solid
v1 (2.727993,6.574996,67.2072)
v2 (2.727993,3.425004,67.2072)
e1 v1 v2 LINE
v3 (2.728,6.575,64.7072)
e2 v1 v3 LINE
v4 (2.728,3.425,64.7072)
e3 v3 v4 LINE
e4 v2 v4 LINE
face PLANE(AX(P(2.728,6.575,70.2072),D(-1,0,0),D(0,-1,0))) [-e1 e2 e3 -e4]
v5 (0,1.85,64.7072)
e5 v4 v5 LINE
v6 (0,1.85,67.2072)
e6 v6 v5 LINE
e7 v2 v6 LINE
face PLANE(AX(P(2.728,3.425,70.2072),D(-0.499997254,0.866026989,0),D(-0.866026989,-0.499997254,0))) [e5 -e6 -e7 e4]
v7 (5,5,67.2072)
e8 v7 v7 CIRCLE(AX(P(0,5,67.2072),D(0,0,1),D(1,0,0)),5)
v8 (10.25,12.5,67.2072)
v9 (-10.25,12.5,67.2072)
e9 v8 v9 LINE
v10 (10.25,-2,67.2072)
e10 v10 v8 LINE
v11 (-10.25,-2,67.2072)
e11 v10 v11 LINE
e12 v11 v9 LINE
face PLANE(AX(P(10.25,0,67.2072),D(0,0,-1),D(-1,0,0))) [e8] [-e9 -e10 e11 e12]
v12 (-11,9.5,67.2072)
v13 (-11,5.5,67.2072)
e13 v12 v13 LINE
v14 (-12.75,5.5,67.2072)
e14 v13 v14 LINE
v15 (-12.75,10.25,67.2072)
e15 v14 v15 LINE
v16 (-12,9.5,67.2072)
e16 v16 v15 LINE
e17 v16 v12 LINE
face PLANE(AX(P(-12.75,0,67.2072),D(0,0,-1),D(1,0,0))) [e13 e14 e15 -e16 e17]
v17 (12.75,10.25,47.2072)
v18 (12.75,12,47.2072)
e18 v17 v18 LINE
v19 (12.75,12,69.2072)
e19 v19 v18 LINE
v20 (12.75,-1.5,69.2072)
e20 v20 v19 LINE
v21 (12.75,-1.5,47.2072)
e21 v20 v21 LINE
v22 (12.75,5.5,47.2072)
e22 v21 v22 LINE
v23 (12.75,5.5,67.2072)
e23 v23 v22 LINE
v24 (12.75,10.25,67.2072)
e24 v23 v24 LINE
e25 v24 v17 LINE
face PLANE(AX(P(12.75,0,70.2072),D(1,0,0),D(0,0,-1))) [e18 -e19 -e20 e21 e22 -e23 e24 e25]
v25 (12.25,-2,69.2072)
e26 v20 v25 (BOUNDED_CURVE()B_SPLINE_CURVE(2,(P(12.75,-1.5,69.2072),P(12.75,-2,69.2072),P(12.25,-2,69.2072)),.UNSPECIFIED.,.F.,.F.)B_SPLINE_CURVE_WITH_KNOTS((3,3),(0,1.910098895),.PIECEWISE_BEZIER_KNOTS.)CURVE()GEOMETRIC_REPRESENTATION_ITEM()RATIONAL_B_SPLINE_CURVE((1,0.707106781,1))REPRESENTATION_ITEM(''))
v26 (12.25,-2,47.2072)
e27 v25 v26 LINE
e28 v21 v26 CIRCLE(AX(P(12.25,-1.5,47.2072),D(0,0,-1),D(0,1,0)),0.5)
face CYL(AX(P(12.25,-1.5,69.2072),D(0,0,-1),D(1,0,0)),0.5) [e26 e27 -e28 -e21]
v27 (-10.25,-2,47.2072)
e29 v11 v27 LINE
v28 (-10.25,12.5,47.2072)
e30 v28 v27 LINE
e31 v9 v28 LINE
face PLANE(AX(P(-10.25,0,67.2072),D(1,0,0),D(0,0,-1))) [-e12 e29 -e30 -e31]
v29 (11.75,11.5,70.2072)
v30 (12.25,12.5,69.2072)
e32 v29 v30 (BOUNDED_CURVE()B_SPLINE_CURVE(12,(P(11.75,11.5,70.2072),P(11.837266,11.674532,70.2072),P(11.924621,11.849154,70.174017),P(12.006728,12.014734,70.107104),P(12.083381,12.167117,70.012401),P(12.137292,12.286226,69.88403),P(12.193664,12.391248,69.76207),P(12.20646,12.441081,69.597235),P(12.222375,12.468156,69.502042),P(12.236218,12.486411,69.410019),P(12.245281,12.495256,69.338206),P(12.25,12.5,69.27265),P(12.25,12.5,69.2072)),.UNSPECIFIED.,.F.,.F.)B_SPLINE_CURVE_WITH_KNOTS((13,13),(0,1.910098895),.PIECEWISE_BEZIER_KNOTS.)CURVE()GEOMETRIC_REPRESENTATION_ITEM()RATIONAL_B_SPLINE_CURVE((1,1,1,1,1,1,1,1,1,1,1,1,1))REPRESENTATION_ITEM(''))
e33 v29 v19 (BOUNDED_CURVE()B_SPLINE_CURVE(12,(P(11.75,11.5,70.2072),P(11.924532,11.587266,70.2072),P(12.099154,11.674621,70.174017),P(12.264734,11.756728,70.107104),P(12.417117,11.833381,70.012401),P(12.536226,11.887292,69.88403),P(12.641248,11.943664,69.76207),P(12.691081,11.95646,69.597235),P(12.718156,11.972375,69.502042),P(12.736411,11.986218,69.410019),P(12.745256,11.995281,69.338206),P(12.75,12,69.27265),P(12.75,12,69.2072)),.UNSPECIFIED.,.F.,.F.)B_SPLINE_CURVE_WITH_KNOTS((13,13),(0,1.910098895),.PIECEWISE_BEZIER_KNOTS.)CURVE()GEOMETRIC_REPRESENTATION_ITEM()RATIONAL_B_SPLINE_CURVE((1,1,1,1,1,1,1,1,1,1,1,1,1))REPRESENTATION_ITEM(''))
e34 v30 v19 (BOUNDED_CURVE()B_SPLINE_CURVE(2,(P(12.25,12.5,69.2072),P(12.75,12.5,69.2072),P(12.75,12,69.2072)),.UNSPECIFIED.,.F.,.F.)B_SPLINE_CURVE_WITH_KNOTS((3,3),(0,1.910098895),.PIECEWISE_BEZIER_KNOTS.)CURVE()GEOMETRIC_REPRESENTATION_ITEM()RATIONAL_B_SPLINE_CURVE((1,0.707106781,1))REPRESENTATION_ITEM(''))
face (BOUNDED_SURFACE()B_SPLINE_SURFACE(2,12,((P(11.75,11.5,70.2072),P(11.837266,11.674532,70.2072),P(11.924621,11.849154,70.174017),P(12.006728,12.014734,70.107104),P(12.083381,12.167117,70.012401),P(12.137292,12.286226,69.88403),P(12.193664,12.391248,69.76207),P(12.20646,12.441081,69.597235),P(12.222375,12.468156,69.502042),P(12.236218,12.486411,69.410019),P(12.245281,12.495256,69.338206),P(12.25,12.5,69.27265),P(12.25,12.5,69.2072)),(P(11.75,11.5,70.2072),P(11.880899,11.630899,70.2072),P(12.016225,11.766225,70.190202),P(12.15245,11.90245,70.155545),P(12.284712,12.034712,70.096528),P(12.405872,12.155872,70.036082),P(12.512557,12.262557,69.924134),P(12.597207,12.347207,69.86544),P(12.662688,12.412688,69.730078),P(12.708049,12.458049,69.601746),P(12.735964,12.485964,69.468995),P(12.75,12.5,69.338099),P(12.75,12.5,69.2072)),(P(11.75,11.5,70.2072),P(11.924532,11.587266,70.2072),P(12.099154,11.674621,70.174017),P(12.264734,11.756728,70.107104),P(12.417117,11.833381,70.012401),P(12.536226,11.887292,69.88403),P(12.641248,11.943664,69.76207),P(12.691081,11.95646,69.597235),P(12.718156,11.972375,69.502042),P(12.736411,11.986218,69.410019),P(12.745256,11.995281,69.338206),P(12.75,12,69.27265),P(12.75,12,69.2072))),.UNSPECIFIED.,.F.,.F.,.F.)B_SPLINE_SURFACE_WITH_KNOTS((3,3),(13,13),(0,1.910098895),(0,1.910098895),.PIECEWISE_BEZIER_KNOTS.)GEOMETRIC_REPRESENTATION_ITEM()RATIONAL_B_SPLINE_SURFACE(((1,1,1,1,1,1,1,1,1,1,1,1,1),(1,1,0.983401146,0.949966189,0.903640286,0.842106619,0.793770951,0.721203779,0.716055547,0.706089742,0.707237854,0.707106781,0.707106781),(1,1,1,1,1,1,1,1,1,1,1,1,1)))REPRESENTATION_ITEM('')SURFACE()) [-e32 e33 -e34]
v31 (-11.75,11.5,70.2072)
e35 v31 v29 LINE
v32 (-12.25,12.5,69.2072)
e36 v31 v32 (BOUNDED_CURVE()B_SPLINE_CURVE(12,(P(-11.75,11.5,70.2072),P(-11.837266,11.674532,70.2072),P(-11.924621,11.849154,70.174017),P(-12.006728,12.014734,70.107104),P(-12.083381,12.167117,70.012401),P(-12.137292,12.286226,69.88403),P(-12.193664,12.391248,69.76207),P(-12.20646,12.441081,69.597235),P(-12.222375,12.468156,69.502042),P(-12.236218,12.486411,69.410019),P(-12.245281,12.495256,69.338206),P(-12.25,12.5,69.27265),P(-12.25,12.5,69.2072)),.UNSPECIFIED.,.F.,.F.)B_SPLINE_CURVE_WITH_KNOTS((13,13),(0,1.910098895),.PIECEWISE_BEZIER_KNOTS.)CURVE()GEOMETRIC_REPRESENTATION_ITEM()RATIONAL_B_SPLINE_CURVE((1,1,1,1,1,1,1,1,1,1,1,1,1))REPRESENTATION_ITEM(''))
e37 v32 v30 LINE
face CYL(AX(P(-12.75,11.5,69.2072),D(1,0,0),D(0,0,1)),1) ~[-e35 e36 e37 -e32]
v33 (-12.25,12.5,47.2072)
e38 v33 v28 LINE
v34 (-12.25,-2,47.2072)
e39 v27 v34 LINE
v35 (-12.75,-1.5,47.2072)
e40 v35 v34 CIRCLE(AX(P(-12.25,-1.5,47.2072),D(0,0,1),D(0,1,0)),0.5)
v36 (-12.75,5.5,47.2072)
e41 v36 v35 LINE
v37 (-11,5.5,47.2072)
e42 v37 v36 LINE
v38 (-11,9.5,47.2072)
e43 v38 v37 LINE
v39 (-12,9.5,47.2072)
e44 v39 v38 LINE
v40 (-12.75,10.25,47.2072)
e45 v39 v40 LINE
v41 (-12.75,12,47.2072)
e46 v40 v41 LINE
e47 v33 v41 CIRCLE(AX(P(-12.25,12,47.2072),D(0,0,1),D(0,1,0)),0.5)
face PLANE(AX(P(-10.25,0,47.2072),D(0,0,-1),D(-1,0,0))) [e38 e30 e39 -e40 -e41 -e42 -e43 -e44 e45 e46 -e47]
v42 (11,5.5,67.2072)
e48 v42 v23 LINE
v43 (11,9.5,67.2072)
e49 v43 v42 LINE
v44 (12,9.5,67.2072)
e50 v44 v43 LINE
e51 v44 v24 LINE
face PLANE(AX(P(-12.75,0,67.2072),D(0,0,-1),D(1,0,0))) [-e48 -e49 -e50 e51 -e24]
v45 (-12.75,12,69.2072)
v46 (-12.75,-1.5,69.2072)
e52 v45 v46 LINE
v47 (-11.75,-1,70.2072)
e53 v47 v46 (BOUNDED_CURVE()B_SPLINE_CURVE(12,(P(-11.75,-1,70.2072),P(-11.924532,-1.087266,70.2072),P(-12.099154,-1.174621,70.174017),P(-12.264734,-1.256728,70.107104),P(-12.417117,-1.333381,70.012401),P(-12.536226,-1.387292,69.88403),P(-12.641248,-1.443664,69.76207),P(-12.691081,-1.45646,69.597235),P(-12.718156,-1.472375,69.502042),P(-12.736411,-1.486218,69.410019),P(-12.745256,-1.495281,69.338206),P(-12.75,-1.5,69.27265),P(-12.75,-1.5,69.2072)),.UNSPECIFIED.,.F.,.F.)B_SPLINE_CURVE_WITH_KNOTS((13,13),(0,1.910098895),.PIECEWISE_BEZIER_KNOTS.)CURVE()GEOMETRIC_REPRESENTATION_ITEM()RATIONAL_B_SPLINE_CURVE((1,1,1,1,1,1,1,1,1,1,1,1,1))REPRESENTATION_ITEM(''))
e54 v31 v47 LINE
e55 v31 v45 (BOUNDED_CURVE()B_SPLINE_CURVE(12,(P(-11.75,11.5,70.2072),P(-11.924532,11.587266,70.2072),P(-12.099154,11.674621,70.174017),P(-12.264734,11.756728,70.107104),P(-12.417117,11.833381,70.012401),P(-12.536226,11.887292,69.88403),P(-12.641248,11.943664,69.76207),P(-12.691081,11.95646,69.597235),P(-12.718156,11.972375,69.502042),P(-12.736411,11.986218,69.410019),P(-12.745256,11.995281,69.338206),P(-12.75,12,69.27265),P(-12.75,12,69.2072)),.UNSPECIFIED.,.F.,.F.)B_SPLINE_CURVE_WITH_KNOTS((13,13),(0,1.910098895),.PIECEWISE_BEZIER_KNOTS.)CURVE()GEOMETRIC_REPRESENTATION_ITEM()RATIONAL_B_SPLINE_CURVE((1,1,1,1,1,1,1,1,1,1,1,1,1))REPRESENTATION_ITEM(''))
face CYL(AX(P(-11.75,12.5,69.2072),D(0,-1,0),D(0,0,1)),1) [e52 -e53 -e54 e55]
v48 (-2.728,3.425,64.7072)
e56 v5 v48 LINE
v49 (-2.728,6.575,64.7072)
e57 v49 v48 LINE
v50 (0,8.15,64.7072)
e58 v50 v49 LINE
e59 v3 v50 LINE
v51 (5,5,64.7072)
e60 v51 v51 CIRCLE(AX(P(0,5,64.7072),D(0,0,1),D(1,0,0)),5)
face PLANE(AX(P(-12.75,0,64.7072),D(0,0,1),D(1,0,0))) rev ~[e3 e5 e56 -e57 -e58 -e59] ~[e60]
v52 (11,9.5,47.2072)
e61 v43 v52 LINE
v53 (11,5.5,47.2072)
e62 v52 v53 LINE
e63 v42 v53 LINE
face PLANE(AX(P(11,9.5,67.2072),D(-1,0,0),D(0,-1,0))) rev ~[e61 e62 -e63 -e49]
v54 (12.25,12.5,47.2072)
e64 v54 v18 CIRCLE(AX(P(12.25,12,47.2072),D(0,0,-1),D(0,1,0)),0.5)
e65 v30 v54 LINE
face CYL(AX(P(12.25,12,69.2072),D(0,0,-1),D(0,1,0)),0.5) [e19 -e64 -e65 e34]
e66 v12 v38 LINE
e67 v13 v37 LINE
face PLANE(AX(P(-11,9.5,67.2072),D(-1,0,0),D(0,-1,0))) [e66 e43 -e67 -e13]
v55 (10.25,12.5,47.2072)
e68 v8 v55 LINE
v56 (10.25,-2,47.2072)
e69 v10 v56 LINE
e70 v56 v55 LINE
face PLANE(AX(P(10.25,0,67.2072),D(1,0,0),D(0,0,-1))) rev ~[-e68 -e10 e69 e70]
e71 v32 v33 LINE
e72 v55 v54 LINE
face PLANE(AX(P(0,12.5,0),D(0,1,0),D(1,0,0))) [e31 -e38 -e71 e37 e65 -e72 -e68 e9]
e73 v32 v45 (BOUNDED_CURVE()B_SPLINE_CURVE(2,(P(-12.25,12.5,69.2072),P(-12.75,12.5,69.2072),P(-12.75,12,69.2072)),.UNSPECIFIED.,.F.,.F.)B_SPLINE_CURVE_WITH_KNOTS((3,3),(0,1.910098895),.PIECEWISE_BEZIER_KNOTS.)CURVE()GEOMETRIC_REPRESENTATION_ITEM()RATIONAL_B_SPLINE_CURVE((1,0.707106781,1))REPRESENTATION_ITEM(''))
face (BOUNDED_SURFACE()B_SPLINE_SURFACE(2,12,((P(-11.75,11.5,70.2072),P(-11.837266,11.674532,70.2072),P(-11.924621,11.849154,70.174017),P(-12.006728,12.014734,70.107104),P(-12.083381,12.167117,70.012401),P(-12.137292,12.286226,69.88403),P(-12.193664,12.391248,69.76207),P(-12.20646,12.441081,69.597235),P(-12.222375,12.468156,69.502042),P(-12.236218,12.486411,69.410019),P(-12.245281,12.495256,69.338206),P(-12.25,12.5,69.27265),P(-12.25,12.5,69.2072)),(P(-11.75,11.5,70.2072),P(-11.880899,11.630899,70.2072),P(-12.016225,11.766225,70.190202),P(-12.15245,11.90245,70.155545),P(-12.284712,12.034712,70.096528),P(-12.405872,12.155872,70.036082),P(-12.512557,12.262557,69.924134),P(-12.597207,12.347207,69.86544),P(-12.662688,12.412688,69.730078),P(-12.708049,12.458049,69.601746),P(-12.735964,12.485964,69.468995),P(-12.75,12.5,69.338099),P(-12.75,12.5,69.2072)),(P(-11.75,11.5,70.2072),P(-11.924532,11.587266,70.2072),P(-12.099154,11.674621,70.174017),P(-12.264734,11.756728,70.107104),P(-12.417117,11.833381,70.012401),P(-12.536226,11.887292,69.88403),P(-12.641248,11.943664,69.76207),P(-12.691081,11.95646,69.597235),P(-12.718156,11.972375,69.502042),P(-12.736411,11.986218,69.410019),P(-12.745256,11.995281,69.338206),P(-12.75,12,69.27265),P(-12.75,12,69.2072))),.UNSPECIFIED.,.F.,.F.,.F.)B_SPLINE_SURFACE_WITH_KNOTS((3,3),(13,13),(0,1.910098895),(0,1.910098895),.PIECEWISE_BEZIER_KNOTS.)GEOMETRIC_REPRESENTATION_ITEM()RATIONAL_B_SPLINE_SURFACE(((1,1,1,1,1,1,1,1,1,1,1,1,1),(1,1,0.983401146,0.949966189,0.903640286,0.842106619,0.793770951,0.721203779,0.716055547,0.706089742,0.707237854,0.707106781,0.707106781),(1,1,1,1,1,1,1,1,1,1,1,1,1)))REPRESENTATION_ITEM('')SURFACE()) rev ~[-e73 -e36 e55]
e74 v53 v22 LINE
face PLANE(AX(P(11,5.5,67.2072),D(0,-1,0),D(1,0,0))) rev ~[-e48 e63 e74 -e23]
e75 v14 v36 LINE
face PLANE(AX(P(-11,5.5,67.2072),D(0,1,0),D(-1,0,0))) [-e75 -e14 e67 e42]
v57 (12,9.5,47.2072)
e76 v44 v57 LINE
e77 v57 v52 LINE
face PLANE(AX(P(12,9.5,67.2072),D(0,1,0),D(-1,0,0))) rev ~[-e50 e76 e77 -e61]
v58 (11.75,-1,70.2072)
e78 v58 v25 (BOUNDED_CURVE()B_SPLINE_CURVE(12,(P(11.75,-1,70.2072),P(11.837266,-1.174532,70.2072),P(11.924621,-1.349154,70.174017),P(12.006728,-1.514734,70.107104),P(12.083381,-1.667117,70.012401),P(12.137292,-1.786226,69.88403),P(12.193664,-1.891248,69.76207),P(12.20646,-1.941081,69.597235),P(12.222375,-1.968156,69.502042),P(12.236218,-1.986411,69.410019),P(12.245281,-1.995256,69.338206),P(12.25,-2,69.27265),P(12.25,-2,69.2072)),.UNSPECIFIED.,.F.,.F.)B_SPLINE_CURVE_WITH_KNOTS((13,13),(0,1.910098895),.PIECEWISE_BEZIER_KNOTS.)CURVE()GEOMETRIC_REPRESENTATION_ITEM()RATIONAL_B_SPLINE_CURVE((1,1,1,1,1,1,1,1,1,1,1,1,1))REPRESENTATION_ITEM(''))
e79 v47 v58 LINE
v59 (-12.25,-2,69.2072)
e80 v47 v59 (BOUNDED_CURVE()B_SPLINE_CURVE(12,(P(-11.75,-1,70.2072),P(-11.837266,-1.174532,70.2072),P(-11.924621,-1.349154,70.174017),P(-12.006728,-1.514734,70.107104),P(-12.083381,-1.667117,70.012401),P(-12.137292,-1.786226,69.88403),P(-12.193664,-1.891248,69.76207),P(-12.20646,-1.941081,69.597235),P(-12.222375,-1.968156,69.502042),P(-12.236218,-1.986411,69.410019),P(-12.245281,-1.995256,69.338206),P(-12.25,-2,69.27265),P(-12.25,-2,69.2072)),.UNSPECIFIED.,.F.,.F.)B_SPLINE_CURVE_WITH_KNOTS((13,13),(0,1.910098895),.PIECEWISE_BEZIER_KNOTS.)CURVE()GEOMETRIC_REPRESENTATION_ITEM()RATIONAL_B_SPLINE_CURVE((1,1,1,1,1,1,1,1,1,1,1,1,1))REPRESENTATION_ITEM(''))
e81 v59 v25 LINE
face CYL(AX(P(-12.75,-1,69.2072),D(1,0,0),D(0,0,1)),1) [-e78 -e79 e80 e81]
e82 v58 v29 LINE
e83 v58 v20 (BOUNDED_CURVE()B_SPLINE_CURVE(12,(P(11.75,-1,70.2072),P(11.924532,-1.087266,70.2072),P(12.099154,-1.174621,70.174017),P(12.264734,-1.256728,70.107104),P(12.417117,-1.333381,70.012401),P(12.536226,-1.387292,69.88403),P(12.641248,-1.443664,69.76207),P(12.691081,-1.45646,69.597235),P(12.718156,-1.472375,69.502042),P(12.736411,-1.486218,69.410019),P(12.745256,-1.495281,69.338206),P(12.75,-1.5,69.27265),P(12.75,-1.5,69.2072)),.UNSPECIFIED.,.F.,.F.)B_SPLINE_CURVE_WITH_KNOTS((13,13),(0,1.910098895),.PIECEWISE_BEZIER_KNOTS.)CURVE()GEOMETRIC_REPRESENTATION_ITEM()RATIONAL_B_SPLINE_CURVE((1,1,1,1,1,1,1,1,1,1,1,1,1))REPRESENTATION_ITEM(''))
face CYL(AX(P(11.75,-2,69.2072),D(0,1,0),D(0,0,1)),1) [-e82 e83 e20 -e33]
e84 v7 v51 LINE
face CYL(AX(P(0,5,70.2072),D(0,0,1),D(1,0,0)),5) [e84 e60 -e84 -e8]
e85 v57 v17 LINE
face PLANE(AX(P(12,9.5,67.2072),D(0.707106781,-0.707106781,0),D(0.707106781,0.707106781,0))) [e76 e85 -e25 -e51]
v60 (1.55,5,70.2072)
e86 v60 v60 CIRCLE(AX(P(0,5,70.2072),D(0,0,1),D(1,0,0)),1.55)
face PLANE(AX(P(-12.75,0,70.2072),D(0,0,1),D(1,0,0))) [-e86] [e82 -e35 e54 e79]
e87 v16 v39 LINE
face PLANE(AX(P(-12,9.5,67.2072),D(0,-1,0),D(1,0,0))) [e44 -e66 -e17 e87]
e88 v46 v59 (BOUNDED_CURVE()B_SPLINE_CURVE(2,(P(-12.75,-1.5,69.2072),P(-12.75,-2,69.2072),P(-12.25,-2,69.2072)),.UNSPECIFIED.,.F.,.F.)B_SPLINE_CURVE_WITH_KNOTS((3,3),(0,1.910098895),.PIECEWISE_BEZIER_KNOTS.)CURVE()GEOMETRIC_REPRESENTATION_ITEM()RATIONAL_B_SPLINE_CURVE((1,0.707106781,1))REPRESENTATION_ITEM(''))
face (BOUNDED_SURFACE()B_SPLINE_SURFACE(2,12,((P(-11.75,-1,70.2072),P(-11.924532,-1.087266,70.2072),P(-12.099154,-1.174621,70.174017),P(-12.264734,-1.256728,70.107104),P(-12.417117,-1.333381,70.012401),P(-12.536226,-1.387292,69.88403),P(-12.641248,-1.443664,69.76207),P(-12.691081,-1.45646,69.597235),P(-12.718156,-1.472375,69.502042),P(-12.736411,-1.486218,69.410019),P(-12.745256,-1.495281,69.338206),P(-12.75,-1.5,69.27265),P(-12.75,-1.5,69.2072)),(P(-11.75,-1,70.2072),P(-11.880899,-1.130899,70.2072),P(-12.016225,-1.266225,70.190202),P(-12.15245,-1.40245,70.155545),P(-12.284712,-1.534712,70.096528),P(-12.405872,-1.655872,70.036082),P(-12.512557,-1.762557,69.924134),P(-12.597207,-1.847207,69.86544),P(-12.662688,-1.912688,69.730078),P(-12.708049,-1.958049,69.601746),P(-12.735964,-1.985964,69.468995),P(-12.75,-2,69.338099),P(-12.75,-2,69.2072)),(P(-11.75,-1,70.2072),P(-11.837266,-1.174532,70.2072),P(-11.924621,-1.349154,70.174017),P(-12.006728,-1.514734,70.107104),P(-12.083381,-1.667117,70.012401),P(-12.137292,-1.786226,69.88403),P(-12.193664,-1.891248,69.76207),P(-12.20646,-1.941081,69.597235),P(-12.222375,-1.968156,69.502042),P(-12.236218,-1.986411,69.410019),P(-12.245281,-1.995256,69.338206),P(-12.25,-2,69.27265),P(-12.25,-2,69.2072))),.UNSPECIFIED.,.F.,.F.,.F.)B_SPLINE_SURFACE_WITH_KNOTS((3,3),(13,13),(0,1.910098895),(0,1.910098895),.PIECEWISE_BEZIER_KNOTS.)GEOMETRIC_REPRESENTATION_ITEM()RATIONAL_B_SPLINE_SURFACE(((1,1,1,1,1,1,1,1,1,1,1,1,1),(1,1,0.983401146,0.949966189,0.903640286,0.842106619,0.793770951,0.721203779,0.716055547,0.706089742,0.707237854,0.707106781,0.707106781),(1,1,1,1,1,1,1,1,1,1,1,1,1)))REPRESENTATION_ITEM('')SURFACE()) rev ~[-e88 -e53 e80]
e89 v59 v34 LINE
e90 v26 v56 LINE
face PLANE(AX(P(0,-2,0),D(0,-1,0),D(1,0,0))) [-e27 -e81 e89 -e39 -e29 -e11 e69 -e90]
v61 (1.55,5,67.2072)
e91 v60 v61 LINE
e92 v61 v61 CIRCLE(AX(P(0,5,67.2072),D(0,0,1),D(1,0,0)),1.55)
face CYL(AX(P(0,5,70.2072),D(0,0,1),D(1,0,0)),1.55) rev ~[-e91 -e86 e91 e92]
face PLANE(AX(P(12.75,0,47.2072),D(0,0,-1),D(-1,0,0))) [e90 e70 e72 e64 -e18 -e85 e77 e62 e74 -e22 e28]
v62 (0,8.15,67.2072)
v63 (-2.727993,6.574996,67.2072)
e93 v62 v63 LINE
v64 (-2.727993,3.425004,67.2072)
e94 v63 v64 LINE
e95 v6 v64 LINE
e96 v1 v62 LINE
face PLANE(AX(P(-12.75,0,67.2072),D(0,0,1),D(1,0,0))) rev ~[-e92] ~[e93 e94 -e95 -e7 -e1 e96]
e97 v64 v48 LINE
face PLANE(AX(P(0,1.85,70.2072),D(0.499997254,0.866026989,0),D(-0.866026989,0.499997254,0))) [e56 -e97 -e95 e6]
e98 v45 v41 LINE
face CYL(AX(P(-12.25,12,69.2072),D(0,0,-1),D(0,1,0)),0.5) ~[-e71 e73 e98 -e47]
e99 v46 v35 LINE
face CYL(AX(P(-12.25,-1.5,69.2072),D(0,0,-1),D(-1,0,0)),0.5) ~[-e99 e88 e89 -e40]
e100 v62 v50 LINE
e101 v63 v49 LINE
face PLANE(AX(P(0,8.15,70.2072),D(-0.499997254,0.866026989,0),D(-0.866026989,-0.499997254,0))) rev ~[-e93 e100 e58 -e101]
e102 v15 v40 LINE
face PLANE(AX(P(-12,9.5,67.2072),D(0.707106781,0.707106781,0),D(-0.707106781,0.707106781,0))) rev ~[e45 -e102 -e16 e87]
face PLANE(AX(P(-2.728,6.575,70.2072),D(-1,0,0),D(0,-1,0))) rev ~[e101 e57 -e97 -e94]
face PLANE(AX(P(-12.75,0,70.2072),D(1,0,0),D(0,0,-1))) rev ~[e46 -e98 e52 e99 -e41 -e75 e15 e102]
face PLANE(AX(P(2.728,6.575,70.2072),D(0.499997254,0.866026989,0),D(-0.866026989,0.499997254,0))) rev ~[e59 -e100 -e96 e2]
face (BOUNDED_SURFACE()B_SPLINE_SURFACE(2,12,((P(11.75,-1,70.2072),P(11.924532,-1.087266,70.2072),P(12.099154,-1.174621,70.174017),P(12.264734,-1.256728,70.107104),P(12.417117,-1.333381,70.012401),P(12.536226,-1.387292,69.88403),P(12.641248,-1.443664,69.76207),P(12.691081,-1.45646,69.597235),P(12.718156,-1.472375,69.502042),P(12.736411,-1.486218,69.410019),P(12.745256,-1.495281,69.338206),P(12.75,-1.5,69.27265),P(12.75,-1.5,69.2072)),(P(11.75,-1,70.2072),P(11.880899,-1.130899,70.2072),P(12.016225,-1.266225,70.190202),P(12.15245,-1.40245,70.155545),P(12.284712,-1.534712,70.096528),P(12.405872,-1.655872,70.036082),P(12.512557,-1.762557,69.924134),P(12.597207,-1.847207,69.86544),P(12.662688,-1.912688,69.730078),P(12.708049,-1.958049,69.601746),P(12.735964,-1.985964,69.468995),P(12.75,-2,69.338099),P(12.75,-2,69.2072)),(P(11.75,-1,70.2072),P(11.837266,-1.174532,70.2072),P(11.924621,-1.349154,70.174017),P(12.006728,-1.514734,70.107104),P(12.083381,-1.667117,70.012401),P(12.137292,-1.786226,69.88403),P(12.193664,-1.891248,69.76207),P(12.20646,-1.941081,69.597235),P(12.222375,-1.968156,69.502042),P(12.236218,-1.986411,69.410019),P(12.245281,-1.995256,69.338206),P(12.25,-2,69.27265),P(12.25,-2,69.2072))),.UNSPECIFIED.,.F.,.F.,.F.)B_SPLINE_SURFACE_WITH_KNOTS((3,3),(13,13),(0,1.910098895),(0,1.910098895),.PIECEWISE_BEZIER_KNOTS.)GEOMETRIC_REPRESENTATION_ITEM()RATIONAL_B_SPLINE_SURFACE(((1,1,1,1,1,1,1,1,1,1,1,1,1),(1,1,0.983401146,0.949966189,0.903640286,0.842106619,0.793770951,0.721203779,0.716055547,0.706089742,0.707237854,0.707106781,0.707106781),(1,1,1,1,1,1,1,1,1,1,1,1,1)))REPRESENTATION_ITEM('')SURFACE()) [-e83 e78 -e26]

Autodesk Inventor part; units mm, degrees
ref_plane "YZ Plane" through (0, 0, 0) normal (1, 0, 0) x (0, 1, 0)
ref_plane "XZ Plane" through (0, 0, 0) normal (0, 1, 0) x (-1, 0, 0)
ref_plane "XY Plane" through (0, 0, 0) normal (0, 0, 1) x (1, 0, 0)
sketch "Эскиз1" plane through (0, 0, 0) normal (0, 1, 0) x (-1, 0, 0)
  line L0 (0, 56.6418) -> (23.7825, 76.5969) construction
  line L1 (44.1942, 76.014) -> (76.014, 44.1942) construction
  line L2 (91.1, 52.2091) -> (52.2091, 91.1) construction
  line L3 (0, 0) -> (74.2462, 74.2462) construction
  arc A0 (92.5543, 49.5852) -> (48.7014, 93.0224) centre (0, 0) ccw construction
  line L4 (52.2091, 91.1) -> (48.6736, 87.5645) construction
  arc A1 (44.1942, 83.085) -> (44.1942, 76.014) centre (47.7297, 79.5495) ccw construction
  line L5 (52.2091, 91.1) -> (48.6736, 87.5645) construction
  line L6 (48.6736, 87.5645) -> (52.2091, 91.1) construction
  spline S0 degree 2 poles (48.6736, 87.5645) (52.2091, 91.1) (48.7014, 93.0224) knots 1 1 1 2 2 2 construction
  line L7 (52.2091, 91.1) -> (48.7014, 93.0224) construction
  line L8 (52.2091, 91.1) -> (48.7014, 93.0224) construction
  arc A2 (48.7014, 93.0224) -> (44.0271, 95.3237) centre (0, 0) ccw construction
  arc A3 (44.0271, 95.3237) -> (43.577, 95.5303) centre (0, 0) ccw construction
  line L9 (42.6652, 95.941) -> (43.577, 95.5303) construction
  line L10 (42.6652, 95.941) -> (43.577, 95.5303) construction
  spline S1 degree 2 poles (42.0492, 94.5734) (42.6652, 95.941) (43.577, 95.5303) knots 1 1 1 2 2 2 construction
  line L11 (42.0492, 94.5734) -> (42.6652, 95.941) construction
  line L12 (42.6652, 95.941) -> (42.0492, 94.5734) construction
  line L13 (0, 0) -> (0, 209.8821) construction
  spline S2 degree 2 poles (-48.6736, 87.5645) (-52.2091, 91.1) (-48.7014, 93.0224) knots 1 1 1 2 2 2 construction
  line L14 (-48.6736, 87.5645) -> (-52.2091, 91.1) construction
  line L15 (-52.2091, 91.1) -> (-48.7014, 93.0224) construction
  arc A4 (-44.1942, 76.014) -> (-44.1942, 83.085) centre (-47.7297, 79.5495) ccw construction
  line L16 (-44.1942, 76.014) -> (-76.014, 44.1942) construction
  arc A5 (-48.7014, 93.0224) -> (-92.5543, 49.5852) centre (0, 0) ccw construction
  arc A6 (-83.085, 44.1942) -> (-76.014, 44.1942) centre (-79.5495, 47.7297) ccw construction
  line L17 (-83.085, 44.1942) -> (-87.3563, 48.4654) construction
  spline S3 degree 2 poles (-48.6736, -87.5645) (-52.2091, -91.1) (-48.7014, -93.0224) knots 1 1 1 2 2 2 construction
  line L18 (-48.6736, -87.5645) -> (-52.2091, -91.1) construction
  line L19 (-52.2091, -91.1) -> (-48.7014, -93.0224) construction
  circle A7 centre (0, 0) radius 35 construction
  line L20 (-46.3155, -73.8927) -> (-73.8927, -46.3155) construction
  arc A8 (-73.8927, -46.3155) -> (-85.2064, -46.3155) centre (-79.5495, -51.9723) ccw construction
  line L21 (-85.2064, -46.3155) -> (-87.5645, -48.6736) construction
  line L22 (-87.5645, -48.6736) -> (-91.1, -52.2091) construction
  spline S4 degree 2 poles (-87.5645, -48.6736) (-91.1, -52.2091) (-92.5543, -49.5852) knots 1 1 1 2 2 2 construction
  line L23 (-91.1, -52.2091) -> (-92.5543, -49.5852) construction
  arc A9 (-92.5543, -49.5852) -> (-48.7014, -93.0224) centre (0, 0) ccw construction
  arc A10 (-92.5543, 49.5852) -> (-92.5543, -49.5852) centre (0, 0) ccw construction
  line L24 (48.6736, -87.5645) -> (46.3155, -85.2064) construction
  arc A11 (-46.3155, -85.2064) -> (-46.3155, -73.8927) centre (-51.9723, -79.5495) ccw construction
  line L25 (-48.6736, -87.5645) -> (-46.3155, -85.2064) construction
  arc A12 (-48.7014, -93.0224) -> (48.7014, -93.0224) centre (0, 0) ccw construction
  arc A13 (46.3155, -73.8927) -> (46.3155, -85.2064) centre (51.9723, -79.5495) ccw construction
  arc A14 (43.577, 95.5303) -> (-43.577, 95.5303) centre (0, 0) ccw construction
  arc A15 (23.7825, 76.5969) -> (0, 67.941) centre (0, 104.941) ccw construction
  line L26 (0, 56.6418) -> (-35.5516, 86.4744) construction
  line L27 (44.0271, 95.3237) -> (44.0271, 127.8162) construction
  ellipse E0 centre (0, 102.7511) end of major axis (44.0271, 102.7511) minor radius 27.5932 (42.0492, 94.5734) -> (35.2734, 86.2384) ccw construction
  line L28 (42.6652, 95.941) -> (-42.6652, 95.941) construction
  ellipse E1 centre (0, 102.7511) end of major axis (44.5159, 105.2445) minor radius 28.887 (35.2734, 86.2384) -> (42.0492, 94.5734) ccw construction
  line L29 (23.7825, 76.5969) -> (35.2734, 86.2384) construction
  arc A16 (0, 67.941) -> (23.7825, 76.5969) centre (0, 104.941) ccw construction
  arc A17 (-23.7825, 76.5969) -> (0, 67.941) centre (0, 104.941) ccw construction
  line L30 (-23.7825, 76.5969) -> (-35.2734, 86.2384) construction
  line L31 (-42.6652, 95.941) -> (-42.0492, 94.5734) construction
  arc A18 (-43.577, 95.5303) -> (-48.7014, 93.0224) centre (0, 0) ccw construction
  line L32 (-42.6652, 95.941) -> (-43.577, 95.5303) construction
  spline S5 degree 2 poles (-42.0492, 94.5734) (-42.6652, 95.941) (-43.577, 95.5303) knots 1 1 1 2 2 2 construction
  line L33 (-42.0492, 94.5734) -> (-42.6652, 95.941) construction
  line L34 (-42.6652, 95.941) -> (-43.577, 95.5303) construction
  line L35 (-42.6652, 95.941) -> (-43.577, 95.5303) construction
  spline S6 degree 2 poles (-42.0492, 94.5734) (-42.6652, 95.941) (-43.577, 95.5303) knots 1 1 1 2 2 2 construction
  line L36 (-42.0492, 94.5734) -> (-42.6652, 95.941) construction
  ellipse E2 centre (0, 102.7511) end of major axis (-44.5159, 105.2445) minor radius 28.887 (-42.0492, 94.5734) -> (-35.2734, 86.2384) ccw construction
  line L37 (83.085, 44.1942) -> (87.5645, 48.6736) construction
  arc A19 (76.014, 44.1942) -> (83.085, 44.1942) centre (79.5495, 47.7297) ccw construction
  spline S7 degree 2 poles (48.6736, -87.5645) (52.2091, -91.1) (48.7014, -93.0224) knots 1 1 1 2 2 2 construction
  line L38 (48.6736, -87.5645) -> (52.2091, -91.1) construction
  line L39 (52.2091, -91.1) -> (48.7014, -93.0224) construction
  line L40 (46.3155, -73.8927) -> (73.8927, -46.3155) construction
  arc A20 (85.2064, -46.3155) -> (73.8927, -46.3155) centre (79.5495, -51.9723) ccw construction
  line L41 (85.2064, -46.3155) -> (87.5645, -48.6736) construction
  spline S8 degree 2 poles (87.5645, -48.6736) (91.1, -52.2091) (92.5543, -49.5852) knots 1 1 1 2 2 2 construction
  line L42 (87.5645, -48.6736) -> (91.1, -52.2091) construction
  line L43 (91.1, -52.2091) -> (92.5543, -49.5852) construction
  arc A21 (92.5543, -49.5852) -> (92.5543, 49.5852) centre (0, 0) ccw construction
  arc A22 (48.7014, -93.0224) -> (92.5543, -49.5852) centre (0, 0) ccw construction
  arc A23 (28.5452, 71.4571) -> (-28.5452, 71.4571) centre (0, 104.941) ccw construction
  line L44 (-83.085, 34.2947) -> (-90.6891, 41.8987) construction
  line L45 (-93.5297, 47.6709) -> (-92.5543, 49.5852) construction
  line L46 (-29.1816, 81.127) -> (-76.014, 34.2947) construction
  arc A24 (-83.085, 34.2947) -> (-76.014, 34.2947) centre (-79.5495, 37.8302) ccw construction
  line L47 (-34.1491, 76.1596) -> (-28.5452, 71.4571) construction
  arc A25 (-30.6393, 73.2144) -> (-37.3889, 72.9198) centre (-33.8534, 69.3842) ccw construction
  arc A26 (-90.6891, 41.8987) -> (-87.3563, 48.4654) centre (0, 0) ccw construction
  arc A27 (37.3889, 72.9198) -> (30.6393, 73.2144) centre (33.8534, 69.3842) ccw construction
  line L48 (29.1816, 81.127) -> (76.014, 34.2947) construction
  arc A28 (76.014, 34.2947) -> (83.085, 34.2947) centre (79.5495, 37.8302) ccw construction
  line L49 (83.085, 34.2947) -> (90.6891, 41.8987) construction
  arc A29 (76.014, 44.1942) -> (83.085, 44.1942) centre (79.5495, 47.7297) ccw construction
  line L50 (44.1942, 76.014) -> (76.014, 44.1942) construction
  arc A30 (44.1942, 83.085) -> (44.1942, 76.014) centre (47.7297, 79.5495) ccw construction
  arc A31 (5.5413, 61.2914) -> (28.5452, 71.4571) centre (0, 104.941) ccw
  arc A32 (-28.5452, 71.4571) -> (5.5413, 61.2914) centre (0, 104.941) ccw
  line L51 (34.1491, 76.1596) -> (28.5452, 71.4571) construction
  arc A33 (-87.3563, 48.4654) -> (-90.6891, 41.8987) centre (0, 0) ccw construction
  line L52 (83.085, 44.1942) -> (87.3563, 48.4654) construction
  arc A34 (90.6891, 41.8987) -> (87.3563, 48.4654) centre (0, 0) ccw construction
  line L53 (-44.1942, 83.085) -> (-48.6736, 87.5645) construction
  line L54 (44.0271, 95.3237) -> (43.577, 95.5303) construction
  line L55 (48.6736, 87.5645) -> (44.1942, 83.085) construction
  line L56 (0, 104.941) -> (-23.6028, 54.3247) construction
  circle A35 centre (31.1916, 76.2887) radius 2 construction
  line L57 (29.1816, 81.127) -> (23.7825, 76.5969)
  line L58 (29.1816, 81.127) -> (34.1491, 76.1596)
  line L59 (34.1491, 76.1596) -> (28.5452, 71.4571)
  line L60 (-28.5452, 71.4571) -> (-34.1491, 76.1596)
  line L61 (-23.7825, 76.5969) -> (-29.1816, 81.127)
  line L62 (-29.1816, 81.127) -> (-34.1491, 76.1596)
  arc A36 (-26.6462, 78.9996) -> (-31.2232, 73.7044) centre (-28.9734, 76.3855) ccw
  arc A37 (31.2232, 73.7044) -> (26.6462, 78.9996) centre (28.9734, 76.3855) ccw
  line L63 (12.75, 58.0269) -> (-12.75, 58.0269)
  line L64 (0, 67.941) -> (0, 64.941) construction
  line L65 (-12.75, 58.0269) -> (-12.75, 67.2072) construction
  line L66 (12.75, 58.0269) -> (12.75, 67.2072) construction
  arc A38 (-12.75, 67.2072) -> (12.75, 67.2072) centre (0, 101.941) ccw
  line L67 (12.75, 67.2072) -> (12.75, 70.2072)
  line L68 (-12.75, 70.2072) -> (-12.75, 70.2072) construction
  line L69 (-12.75, 67.2072) -> (-12.75, 70.2072)
  line L70 (10.1, 59.4125) -> (-10.1, 59.4125) construction
  line L71 (12.75, 70.2072) -> (-12.75, 70.2072)
  line L72 (12.75, 67.2072) -> (-12.75, 67.2072)
  point P0 (60.1041, 60.1041)
  point P1 (40.6586, 79.5495)
  point P2 (79.5495, 40.6586)
  point P3 (0, 105)
  point P4 (-87.5645, 48.6736)
  point P5 (-23.542, 76.3968)
  point P6 (-34.9935, 86.0061)
  point P7 (0, 95.941)
  point P8 (-94.5192, 45.7288)
  point P9 (-13.2817, 58.6489)
  point P10 (-28.5452, 71.4571)
  point P11 (13.2817, 58.6489)
  point P12 (-15.6369, 71.4076)
  point P13 (-26.8032, 79.1314)
  point P14 (-31.2232, 73.7044)
  point P15 (26.8032, 79.1314)
  dimension "d67" = 44.5856
  dimension "d48" = 74
  dimension "d49" = 100
  dimension "d50" = 28
  dimension "d51" = 15
  dimension "d52" = 45
  dimension "d53" = 55
  dimension "d54" = 16.3348
  dimension "d55" = 27.5
  dimension "d56" = 5
  dimension "d57" = 5
  dimension "d58" = 1
  dimension "d59" = 1.5
  dimension "d60" = 1.5
  dimension "d61" = 1
  dimension "d62" = 4
  dimension "d63" = 70
  dimension "d64" = 85
  dimension "d65" = 105
  dimension "d66" = 1.3619
  dimension "d68" = 88
  dimension "d69" = 7
  dimension "d70" = 5
  dimension "d71" = 7
  dimension "d72" = 5
  dimension "d73" = 7
  dimension "d74" = 5
  dimension "d75" = 5.1
  dimension "d78" = 4
  dimension "d166" = 25.5
  dimension "d169" = 3
  dimension "d171" = 3
  dimension "d172" = 3
  dimension "d173" = 20.2
extrude "Выдавливание7" add sketch "Эскиз1" along normal blind 14 contours L69 L71 L67 L72
sketch "Эскиз10" plane through (12.75, 0, 67.2072) normal (0, 0, -1) x (-1, 0, 0)
  line L0 (25.5, 0) -> (0, 0) construction
  line L1 (0, 0) -> (0, 14) construction
  line L2 (25.5, 14) -> (0, 14) construction
  line L3 (25.5, 0) -> (25.5, 14) construction
  line L4 (25.5, 14) -> (0, 14) construction
  line L5 (12.75, 14) -> (12.75, 0) construction
  line L6 (-0.25, 15.8948) -> (-0.25, -2.2577) construction
  line L7 (0, 14) -> (2.5, 14)
  line L8 (2.5, 14) -> (2.5, 0)
  line L9 (2.5, 0) -> (0, 0)
  line L10 (0, 0) -> (0, 14)
  line L11 (0, 9) -> (2.5, 9) construction
  line L12 (0, 0) -> (0, 14) construction
  line L13 (0, 9.5) -> (1.75, 9.5)
  line L14 (1.75, 9.5) -> (1.75, 5.5)
  line L15 (1.75, 5.5) -> (0, 5.5)
  line L16 (0, 5.5) -> (0, 9.5) construction
  line L17 (0, 9) -> (1.25, 9) construction
  line L18 (1.25, 9) -> (1.25, 6) construction
  line L19 (1.25, 6) -> (0, 6) construction
  line L20 (0, 6) -> (0, 9) construction
  line L21 (1.25, 9) -> (0, 10.25)
  line L22 (25.5, 0) -> (25.5, 14) construction
  line L23 (25.5, 14) -> (23, 14)
  line L24 (23, 14) -> (23, 0)
  line L25 (23, 0) -> (25.5, 0)
  line L26 (25.5, 0) -> (25.5, 14)
  line L27 (25.5, 9) -> (23, 9) construction
  line L28 (25.5, 0) -> (25.5, 14) construction
  line L29 (25.5, 9.5) -> (23.75, 9.5)
  line L30 (23.75, 9.5) -> (23.75, 5.5)
  line L31 (23.75, 5.5) -> (25.5, 5.5)
  line L32 (25.5, 5.5) -> (25.5, 9.5) construction
  line L33 (25.5, 9) -> (24.25, 9) construction
  line L34 (24.25, 9) -> (24.25, 6) construction
  line L35 (24.25, 6) -> (25.5, 6) construction
  line L36 (25.5, 6) -> (25.5, 9) construction
  line L37 (24.25, 9) -> (25.5, 10.25)
  point P0 (24.75, 9.5)
  point P1 (0, 5.5)
  point P2 (0, 10.25)
  point P3 (0.75, 9.5)
  dimension "d215" = 26
  dimension "d216" = 20.5
  dimension "d218" = 3
  dimension "d219" = 1.5
  dimension "d220" = 0.5
  dimension "d221" = 0.5
  dimension "d222" = 0.5
  dimension "d223" = 135
  dimension "d237" = 5.5
extrude "Выдавливание16" add sketch "Эскиз10" along normal blind 20 contours L7 L8 L9 L10 L15 L14 L13 L21 | L26 L37 L29 L30 L31 L25 L24 L23
sketch "Эскиз12" plane through (-12.75, 0, 70.2072) normal (0, 0, 1) x (1, 0, 0)
  line L0 (0, 14) -> (2.5, 14) construction
  line L1 (2.5, 14) -> (2.5, 0) construction
  line L2 (2.5, 0) -> (0, 0) construction
  line L3 (0, 0) -> (0, 5.5) construction
  line L4 (0, 5.5) -> (1.75, 5.5) construction
  line L5 (1.75, 5.5) -> (1.75, 9.5) construction
  line L6 (1.75, 9.5) -> (0.75, 9.5) construction
  line L7 (0.75, 9.5) -> (0, 10.25) construction
  line L8 (0, 10.25) -> (0, 14) construction
  line L9 (0, 0) -> (25.5, 0) construction
  line L10 (25.5, 0) -> (25.5, 14) construction
  line L11 (0, 14) -> (25.5, 14) construction
  line L12 (0, 0) -> (0, 14) construction
  line L13 (25.5, 14) -> (25.5, 10.25) construction
  line L14 (25.5, 10.25) -> (24.75, 9.5) construction
  line L15 (24.75, 9.5) -> (23.75, 9.5) construction
  line L16 (23.75, 9.5) -> (23.75, 5.5) construction
  line L17 (23.75, 5.5) -> (25.5, 5.5) construction
  line L18 (25.5, 5.5) -> (25.5, 0) construction
  line L19 (25.5, 0) -> (23, 0) construction
  line L20 (23, 0) -> (23, 14) construction
  line L21 (23, 14) -> (25.5, 14) construction
  line L22 (23, 0) -> (23, 14) construction
  line L23 (0, 14) -> (25.5, 14) construction
  line L24 (23, 14) -> (25.5, 14) construction
  line L25 (23, 14) -> (2.5, 14) construction
  line L26 (0, 14) -> (2.5, 14) construction
  line L27 (25.5, 0) -> (25.5, 14) construction
  line L28 (25.5, 5.5) -> (25.5, 10.25) construction
  line L29 (0, 0) -> (0, 14) construction
  line L30 (0, 14) -> (25.5, 14) construction
  line L31 (12.75, 14) -> (12.75, 0) construction
  circle A0 centre (12.75, 5) radius 3.15
  circle A1 centre (12.75, 5) radius 1.55
  line L32 (12.75, 5) -> (15.478, 6.575) construction
  line L33 (12.75, 5) -> (10.022, 6.575) construction
  line L34 (12.75, 5) -> (15.9, 5) construction
  line L35 (12.75, 5) -> (15.478, 3.425) construction
  line L36 (12.75, 5) -> (10.022, 3.425) construction
  line L37 (15.478, 6.575) -> (12.75, 8.15)
  line L38 (12.75, 8.15) -> (10.022, 6.575)
  line L39 (10.022, 6.575) -> (10.022, 3.425)
  line L40 (15.478, 6.575) -> (15.478, 3.425)
  line L41 (15.478, 3.425) -> (12.75, 1.85)
  line L42 (12.75, 1.85) -> (10.022, 3.425)
  circle A2 centre (12.75, 5) radius 5
  point P0 (15.478, 3.425)
  point P1 (15.478, 3.425)
  point P2 (12.75, 1.85)
  point P3 (10.022, 3.425)
  point P4 (10.022, 3.425)
  point P5 (10.022, 6.575)
  point P6 (10.022, 6.575)
  dimension "d226" = 6.3
  dimension "d229" = 3.1
  dimension "d238" = 5
  dimension "d239" = 60
  dimension "d244" = 10
extrude "Выдавливание17" [suppressed]
extrude "Выдавливание18" cut sketch "Эскиз12" against normal blind 5.5 contours A1
extrude "Выдавливание19" cut sketch "Эскиз12" against normal blind 5.5 contours L40 L41 L42 L39 L38 L37
fillet "Сопряжение1" [suppressed]
sketch "Эскиз14" plane through (0, 0, 0) normal (0, -1, 0) x (1, 0, 0)
  line L0 (-12.75, 70.2072) -> (12.75, 70.2072) projected
  line L1 (-12.75, 70.2072) -> (-12.75, 47.2072) projected
  line L2 (-10.25, 47.2072) -> (-12.75, 47.2072) projected
  line L3 (-10.25, 67.2072) -> (-10.25, 47.2072) projected
  line L4 (10.25, 67.2072) -> (-10.25, 67.2072) projected
  line L5 (10.25, 67.2072) -> (10.25, 47.2072) projected
  line L6 (12.75, 47.2072) -> (10.25, 47.2072) projected
  line L7 (12.75, 70.2072) -> (12.75, 47.2072) projected
  point P0 (0, 0)
extrude "Выдавливание20" add sketch "Эскиз14" along normal blind 2
fillet "Сопряжение2" [suppressed]
extrude "Выдавливание21" add sketch "Эскиз12" against normal blind 5.5 contours A2
extrude "Выдавливание22" add sketch "Эскиз12" against normal blind 3 contours L40 L41 L42 L39 L38 L37
extrude "Выдавливание23" add sketch "Эскиз12" against normal blind 5.5 contours A0 L40 | L37 A0 | A0 L41 | L38 A0 | A0 L42 | L39 A0
sketch "Эскиз16" plane through (0, 14, 0) normal (0, 1, 0) x (1, 0, 0)
  line L0 (-12.75, -70.2072) -> (12.75, -70.2072) projected
  line L1 (12.75, -70.2072) -> (12.75, -47.2072) projected
  line L2 (10.25, -47.2072) -> (12.75, -47.2072) projected
  line L3 (10.25, -67.2072) -> (10.25, -47.2072) projected
  line L4 (10.25, -67.2072) -> (-10.25, -67.2072) projected
  line L5 (-10.25, -67.2072) -> (-10.25, -47.2072) projected
  line L6 (-12.75, -47.2072) -> (-10.25, -47.2072) projected
  line L7 (-12.75, -70.2072) -> (-12.75, -47.2072) projected
  point P0 (0, 0)
extrude "Выдавливание24" cut sketch "Эскиз16" against normal blind 1.5
fillet "Сопряжение3" radius 1 4 edges at (0, 12.5, 70.2072) (12.75, 5.25, 70.2072) (0, -2, 70.2072) (-12.75, 5.25, 70.2072)
fillet "Сопряжение4" radius 0.5 6 edges at (-12.4571, 12.2071, 69.9143) (-12.4571, -1.7071, 69.9143) (-12.75, -2, 58.2072) (12.4571, -1.7071, 69.9143) (12.75, -2, 58.2072) (12.4571, 12.2071, 69.9143)
properties part number "_3DПЕЧАТЬ"
